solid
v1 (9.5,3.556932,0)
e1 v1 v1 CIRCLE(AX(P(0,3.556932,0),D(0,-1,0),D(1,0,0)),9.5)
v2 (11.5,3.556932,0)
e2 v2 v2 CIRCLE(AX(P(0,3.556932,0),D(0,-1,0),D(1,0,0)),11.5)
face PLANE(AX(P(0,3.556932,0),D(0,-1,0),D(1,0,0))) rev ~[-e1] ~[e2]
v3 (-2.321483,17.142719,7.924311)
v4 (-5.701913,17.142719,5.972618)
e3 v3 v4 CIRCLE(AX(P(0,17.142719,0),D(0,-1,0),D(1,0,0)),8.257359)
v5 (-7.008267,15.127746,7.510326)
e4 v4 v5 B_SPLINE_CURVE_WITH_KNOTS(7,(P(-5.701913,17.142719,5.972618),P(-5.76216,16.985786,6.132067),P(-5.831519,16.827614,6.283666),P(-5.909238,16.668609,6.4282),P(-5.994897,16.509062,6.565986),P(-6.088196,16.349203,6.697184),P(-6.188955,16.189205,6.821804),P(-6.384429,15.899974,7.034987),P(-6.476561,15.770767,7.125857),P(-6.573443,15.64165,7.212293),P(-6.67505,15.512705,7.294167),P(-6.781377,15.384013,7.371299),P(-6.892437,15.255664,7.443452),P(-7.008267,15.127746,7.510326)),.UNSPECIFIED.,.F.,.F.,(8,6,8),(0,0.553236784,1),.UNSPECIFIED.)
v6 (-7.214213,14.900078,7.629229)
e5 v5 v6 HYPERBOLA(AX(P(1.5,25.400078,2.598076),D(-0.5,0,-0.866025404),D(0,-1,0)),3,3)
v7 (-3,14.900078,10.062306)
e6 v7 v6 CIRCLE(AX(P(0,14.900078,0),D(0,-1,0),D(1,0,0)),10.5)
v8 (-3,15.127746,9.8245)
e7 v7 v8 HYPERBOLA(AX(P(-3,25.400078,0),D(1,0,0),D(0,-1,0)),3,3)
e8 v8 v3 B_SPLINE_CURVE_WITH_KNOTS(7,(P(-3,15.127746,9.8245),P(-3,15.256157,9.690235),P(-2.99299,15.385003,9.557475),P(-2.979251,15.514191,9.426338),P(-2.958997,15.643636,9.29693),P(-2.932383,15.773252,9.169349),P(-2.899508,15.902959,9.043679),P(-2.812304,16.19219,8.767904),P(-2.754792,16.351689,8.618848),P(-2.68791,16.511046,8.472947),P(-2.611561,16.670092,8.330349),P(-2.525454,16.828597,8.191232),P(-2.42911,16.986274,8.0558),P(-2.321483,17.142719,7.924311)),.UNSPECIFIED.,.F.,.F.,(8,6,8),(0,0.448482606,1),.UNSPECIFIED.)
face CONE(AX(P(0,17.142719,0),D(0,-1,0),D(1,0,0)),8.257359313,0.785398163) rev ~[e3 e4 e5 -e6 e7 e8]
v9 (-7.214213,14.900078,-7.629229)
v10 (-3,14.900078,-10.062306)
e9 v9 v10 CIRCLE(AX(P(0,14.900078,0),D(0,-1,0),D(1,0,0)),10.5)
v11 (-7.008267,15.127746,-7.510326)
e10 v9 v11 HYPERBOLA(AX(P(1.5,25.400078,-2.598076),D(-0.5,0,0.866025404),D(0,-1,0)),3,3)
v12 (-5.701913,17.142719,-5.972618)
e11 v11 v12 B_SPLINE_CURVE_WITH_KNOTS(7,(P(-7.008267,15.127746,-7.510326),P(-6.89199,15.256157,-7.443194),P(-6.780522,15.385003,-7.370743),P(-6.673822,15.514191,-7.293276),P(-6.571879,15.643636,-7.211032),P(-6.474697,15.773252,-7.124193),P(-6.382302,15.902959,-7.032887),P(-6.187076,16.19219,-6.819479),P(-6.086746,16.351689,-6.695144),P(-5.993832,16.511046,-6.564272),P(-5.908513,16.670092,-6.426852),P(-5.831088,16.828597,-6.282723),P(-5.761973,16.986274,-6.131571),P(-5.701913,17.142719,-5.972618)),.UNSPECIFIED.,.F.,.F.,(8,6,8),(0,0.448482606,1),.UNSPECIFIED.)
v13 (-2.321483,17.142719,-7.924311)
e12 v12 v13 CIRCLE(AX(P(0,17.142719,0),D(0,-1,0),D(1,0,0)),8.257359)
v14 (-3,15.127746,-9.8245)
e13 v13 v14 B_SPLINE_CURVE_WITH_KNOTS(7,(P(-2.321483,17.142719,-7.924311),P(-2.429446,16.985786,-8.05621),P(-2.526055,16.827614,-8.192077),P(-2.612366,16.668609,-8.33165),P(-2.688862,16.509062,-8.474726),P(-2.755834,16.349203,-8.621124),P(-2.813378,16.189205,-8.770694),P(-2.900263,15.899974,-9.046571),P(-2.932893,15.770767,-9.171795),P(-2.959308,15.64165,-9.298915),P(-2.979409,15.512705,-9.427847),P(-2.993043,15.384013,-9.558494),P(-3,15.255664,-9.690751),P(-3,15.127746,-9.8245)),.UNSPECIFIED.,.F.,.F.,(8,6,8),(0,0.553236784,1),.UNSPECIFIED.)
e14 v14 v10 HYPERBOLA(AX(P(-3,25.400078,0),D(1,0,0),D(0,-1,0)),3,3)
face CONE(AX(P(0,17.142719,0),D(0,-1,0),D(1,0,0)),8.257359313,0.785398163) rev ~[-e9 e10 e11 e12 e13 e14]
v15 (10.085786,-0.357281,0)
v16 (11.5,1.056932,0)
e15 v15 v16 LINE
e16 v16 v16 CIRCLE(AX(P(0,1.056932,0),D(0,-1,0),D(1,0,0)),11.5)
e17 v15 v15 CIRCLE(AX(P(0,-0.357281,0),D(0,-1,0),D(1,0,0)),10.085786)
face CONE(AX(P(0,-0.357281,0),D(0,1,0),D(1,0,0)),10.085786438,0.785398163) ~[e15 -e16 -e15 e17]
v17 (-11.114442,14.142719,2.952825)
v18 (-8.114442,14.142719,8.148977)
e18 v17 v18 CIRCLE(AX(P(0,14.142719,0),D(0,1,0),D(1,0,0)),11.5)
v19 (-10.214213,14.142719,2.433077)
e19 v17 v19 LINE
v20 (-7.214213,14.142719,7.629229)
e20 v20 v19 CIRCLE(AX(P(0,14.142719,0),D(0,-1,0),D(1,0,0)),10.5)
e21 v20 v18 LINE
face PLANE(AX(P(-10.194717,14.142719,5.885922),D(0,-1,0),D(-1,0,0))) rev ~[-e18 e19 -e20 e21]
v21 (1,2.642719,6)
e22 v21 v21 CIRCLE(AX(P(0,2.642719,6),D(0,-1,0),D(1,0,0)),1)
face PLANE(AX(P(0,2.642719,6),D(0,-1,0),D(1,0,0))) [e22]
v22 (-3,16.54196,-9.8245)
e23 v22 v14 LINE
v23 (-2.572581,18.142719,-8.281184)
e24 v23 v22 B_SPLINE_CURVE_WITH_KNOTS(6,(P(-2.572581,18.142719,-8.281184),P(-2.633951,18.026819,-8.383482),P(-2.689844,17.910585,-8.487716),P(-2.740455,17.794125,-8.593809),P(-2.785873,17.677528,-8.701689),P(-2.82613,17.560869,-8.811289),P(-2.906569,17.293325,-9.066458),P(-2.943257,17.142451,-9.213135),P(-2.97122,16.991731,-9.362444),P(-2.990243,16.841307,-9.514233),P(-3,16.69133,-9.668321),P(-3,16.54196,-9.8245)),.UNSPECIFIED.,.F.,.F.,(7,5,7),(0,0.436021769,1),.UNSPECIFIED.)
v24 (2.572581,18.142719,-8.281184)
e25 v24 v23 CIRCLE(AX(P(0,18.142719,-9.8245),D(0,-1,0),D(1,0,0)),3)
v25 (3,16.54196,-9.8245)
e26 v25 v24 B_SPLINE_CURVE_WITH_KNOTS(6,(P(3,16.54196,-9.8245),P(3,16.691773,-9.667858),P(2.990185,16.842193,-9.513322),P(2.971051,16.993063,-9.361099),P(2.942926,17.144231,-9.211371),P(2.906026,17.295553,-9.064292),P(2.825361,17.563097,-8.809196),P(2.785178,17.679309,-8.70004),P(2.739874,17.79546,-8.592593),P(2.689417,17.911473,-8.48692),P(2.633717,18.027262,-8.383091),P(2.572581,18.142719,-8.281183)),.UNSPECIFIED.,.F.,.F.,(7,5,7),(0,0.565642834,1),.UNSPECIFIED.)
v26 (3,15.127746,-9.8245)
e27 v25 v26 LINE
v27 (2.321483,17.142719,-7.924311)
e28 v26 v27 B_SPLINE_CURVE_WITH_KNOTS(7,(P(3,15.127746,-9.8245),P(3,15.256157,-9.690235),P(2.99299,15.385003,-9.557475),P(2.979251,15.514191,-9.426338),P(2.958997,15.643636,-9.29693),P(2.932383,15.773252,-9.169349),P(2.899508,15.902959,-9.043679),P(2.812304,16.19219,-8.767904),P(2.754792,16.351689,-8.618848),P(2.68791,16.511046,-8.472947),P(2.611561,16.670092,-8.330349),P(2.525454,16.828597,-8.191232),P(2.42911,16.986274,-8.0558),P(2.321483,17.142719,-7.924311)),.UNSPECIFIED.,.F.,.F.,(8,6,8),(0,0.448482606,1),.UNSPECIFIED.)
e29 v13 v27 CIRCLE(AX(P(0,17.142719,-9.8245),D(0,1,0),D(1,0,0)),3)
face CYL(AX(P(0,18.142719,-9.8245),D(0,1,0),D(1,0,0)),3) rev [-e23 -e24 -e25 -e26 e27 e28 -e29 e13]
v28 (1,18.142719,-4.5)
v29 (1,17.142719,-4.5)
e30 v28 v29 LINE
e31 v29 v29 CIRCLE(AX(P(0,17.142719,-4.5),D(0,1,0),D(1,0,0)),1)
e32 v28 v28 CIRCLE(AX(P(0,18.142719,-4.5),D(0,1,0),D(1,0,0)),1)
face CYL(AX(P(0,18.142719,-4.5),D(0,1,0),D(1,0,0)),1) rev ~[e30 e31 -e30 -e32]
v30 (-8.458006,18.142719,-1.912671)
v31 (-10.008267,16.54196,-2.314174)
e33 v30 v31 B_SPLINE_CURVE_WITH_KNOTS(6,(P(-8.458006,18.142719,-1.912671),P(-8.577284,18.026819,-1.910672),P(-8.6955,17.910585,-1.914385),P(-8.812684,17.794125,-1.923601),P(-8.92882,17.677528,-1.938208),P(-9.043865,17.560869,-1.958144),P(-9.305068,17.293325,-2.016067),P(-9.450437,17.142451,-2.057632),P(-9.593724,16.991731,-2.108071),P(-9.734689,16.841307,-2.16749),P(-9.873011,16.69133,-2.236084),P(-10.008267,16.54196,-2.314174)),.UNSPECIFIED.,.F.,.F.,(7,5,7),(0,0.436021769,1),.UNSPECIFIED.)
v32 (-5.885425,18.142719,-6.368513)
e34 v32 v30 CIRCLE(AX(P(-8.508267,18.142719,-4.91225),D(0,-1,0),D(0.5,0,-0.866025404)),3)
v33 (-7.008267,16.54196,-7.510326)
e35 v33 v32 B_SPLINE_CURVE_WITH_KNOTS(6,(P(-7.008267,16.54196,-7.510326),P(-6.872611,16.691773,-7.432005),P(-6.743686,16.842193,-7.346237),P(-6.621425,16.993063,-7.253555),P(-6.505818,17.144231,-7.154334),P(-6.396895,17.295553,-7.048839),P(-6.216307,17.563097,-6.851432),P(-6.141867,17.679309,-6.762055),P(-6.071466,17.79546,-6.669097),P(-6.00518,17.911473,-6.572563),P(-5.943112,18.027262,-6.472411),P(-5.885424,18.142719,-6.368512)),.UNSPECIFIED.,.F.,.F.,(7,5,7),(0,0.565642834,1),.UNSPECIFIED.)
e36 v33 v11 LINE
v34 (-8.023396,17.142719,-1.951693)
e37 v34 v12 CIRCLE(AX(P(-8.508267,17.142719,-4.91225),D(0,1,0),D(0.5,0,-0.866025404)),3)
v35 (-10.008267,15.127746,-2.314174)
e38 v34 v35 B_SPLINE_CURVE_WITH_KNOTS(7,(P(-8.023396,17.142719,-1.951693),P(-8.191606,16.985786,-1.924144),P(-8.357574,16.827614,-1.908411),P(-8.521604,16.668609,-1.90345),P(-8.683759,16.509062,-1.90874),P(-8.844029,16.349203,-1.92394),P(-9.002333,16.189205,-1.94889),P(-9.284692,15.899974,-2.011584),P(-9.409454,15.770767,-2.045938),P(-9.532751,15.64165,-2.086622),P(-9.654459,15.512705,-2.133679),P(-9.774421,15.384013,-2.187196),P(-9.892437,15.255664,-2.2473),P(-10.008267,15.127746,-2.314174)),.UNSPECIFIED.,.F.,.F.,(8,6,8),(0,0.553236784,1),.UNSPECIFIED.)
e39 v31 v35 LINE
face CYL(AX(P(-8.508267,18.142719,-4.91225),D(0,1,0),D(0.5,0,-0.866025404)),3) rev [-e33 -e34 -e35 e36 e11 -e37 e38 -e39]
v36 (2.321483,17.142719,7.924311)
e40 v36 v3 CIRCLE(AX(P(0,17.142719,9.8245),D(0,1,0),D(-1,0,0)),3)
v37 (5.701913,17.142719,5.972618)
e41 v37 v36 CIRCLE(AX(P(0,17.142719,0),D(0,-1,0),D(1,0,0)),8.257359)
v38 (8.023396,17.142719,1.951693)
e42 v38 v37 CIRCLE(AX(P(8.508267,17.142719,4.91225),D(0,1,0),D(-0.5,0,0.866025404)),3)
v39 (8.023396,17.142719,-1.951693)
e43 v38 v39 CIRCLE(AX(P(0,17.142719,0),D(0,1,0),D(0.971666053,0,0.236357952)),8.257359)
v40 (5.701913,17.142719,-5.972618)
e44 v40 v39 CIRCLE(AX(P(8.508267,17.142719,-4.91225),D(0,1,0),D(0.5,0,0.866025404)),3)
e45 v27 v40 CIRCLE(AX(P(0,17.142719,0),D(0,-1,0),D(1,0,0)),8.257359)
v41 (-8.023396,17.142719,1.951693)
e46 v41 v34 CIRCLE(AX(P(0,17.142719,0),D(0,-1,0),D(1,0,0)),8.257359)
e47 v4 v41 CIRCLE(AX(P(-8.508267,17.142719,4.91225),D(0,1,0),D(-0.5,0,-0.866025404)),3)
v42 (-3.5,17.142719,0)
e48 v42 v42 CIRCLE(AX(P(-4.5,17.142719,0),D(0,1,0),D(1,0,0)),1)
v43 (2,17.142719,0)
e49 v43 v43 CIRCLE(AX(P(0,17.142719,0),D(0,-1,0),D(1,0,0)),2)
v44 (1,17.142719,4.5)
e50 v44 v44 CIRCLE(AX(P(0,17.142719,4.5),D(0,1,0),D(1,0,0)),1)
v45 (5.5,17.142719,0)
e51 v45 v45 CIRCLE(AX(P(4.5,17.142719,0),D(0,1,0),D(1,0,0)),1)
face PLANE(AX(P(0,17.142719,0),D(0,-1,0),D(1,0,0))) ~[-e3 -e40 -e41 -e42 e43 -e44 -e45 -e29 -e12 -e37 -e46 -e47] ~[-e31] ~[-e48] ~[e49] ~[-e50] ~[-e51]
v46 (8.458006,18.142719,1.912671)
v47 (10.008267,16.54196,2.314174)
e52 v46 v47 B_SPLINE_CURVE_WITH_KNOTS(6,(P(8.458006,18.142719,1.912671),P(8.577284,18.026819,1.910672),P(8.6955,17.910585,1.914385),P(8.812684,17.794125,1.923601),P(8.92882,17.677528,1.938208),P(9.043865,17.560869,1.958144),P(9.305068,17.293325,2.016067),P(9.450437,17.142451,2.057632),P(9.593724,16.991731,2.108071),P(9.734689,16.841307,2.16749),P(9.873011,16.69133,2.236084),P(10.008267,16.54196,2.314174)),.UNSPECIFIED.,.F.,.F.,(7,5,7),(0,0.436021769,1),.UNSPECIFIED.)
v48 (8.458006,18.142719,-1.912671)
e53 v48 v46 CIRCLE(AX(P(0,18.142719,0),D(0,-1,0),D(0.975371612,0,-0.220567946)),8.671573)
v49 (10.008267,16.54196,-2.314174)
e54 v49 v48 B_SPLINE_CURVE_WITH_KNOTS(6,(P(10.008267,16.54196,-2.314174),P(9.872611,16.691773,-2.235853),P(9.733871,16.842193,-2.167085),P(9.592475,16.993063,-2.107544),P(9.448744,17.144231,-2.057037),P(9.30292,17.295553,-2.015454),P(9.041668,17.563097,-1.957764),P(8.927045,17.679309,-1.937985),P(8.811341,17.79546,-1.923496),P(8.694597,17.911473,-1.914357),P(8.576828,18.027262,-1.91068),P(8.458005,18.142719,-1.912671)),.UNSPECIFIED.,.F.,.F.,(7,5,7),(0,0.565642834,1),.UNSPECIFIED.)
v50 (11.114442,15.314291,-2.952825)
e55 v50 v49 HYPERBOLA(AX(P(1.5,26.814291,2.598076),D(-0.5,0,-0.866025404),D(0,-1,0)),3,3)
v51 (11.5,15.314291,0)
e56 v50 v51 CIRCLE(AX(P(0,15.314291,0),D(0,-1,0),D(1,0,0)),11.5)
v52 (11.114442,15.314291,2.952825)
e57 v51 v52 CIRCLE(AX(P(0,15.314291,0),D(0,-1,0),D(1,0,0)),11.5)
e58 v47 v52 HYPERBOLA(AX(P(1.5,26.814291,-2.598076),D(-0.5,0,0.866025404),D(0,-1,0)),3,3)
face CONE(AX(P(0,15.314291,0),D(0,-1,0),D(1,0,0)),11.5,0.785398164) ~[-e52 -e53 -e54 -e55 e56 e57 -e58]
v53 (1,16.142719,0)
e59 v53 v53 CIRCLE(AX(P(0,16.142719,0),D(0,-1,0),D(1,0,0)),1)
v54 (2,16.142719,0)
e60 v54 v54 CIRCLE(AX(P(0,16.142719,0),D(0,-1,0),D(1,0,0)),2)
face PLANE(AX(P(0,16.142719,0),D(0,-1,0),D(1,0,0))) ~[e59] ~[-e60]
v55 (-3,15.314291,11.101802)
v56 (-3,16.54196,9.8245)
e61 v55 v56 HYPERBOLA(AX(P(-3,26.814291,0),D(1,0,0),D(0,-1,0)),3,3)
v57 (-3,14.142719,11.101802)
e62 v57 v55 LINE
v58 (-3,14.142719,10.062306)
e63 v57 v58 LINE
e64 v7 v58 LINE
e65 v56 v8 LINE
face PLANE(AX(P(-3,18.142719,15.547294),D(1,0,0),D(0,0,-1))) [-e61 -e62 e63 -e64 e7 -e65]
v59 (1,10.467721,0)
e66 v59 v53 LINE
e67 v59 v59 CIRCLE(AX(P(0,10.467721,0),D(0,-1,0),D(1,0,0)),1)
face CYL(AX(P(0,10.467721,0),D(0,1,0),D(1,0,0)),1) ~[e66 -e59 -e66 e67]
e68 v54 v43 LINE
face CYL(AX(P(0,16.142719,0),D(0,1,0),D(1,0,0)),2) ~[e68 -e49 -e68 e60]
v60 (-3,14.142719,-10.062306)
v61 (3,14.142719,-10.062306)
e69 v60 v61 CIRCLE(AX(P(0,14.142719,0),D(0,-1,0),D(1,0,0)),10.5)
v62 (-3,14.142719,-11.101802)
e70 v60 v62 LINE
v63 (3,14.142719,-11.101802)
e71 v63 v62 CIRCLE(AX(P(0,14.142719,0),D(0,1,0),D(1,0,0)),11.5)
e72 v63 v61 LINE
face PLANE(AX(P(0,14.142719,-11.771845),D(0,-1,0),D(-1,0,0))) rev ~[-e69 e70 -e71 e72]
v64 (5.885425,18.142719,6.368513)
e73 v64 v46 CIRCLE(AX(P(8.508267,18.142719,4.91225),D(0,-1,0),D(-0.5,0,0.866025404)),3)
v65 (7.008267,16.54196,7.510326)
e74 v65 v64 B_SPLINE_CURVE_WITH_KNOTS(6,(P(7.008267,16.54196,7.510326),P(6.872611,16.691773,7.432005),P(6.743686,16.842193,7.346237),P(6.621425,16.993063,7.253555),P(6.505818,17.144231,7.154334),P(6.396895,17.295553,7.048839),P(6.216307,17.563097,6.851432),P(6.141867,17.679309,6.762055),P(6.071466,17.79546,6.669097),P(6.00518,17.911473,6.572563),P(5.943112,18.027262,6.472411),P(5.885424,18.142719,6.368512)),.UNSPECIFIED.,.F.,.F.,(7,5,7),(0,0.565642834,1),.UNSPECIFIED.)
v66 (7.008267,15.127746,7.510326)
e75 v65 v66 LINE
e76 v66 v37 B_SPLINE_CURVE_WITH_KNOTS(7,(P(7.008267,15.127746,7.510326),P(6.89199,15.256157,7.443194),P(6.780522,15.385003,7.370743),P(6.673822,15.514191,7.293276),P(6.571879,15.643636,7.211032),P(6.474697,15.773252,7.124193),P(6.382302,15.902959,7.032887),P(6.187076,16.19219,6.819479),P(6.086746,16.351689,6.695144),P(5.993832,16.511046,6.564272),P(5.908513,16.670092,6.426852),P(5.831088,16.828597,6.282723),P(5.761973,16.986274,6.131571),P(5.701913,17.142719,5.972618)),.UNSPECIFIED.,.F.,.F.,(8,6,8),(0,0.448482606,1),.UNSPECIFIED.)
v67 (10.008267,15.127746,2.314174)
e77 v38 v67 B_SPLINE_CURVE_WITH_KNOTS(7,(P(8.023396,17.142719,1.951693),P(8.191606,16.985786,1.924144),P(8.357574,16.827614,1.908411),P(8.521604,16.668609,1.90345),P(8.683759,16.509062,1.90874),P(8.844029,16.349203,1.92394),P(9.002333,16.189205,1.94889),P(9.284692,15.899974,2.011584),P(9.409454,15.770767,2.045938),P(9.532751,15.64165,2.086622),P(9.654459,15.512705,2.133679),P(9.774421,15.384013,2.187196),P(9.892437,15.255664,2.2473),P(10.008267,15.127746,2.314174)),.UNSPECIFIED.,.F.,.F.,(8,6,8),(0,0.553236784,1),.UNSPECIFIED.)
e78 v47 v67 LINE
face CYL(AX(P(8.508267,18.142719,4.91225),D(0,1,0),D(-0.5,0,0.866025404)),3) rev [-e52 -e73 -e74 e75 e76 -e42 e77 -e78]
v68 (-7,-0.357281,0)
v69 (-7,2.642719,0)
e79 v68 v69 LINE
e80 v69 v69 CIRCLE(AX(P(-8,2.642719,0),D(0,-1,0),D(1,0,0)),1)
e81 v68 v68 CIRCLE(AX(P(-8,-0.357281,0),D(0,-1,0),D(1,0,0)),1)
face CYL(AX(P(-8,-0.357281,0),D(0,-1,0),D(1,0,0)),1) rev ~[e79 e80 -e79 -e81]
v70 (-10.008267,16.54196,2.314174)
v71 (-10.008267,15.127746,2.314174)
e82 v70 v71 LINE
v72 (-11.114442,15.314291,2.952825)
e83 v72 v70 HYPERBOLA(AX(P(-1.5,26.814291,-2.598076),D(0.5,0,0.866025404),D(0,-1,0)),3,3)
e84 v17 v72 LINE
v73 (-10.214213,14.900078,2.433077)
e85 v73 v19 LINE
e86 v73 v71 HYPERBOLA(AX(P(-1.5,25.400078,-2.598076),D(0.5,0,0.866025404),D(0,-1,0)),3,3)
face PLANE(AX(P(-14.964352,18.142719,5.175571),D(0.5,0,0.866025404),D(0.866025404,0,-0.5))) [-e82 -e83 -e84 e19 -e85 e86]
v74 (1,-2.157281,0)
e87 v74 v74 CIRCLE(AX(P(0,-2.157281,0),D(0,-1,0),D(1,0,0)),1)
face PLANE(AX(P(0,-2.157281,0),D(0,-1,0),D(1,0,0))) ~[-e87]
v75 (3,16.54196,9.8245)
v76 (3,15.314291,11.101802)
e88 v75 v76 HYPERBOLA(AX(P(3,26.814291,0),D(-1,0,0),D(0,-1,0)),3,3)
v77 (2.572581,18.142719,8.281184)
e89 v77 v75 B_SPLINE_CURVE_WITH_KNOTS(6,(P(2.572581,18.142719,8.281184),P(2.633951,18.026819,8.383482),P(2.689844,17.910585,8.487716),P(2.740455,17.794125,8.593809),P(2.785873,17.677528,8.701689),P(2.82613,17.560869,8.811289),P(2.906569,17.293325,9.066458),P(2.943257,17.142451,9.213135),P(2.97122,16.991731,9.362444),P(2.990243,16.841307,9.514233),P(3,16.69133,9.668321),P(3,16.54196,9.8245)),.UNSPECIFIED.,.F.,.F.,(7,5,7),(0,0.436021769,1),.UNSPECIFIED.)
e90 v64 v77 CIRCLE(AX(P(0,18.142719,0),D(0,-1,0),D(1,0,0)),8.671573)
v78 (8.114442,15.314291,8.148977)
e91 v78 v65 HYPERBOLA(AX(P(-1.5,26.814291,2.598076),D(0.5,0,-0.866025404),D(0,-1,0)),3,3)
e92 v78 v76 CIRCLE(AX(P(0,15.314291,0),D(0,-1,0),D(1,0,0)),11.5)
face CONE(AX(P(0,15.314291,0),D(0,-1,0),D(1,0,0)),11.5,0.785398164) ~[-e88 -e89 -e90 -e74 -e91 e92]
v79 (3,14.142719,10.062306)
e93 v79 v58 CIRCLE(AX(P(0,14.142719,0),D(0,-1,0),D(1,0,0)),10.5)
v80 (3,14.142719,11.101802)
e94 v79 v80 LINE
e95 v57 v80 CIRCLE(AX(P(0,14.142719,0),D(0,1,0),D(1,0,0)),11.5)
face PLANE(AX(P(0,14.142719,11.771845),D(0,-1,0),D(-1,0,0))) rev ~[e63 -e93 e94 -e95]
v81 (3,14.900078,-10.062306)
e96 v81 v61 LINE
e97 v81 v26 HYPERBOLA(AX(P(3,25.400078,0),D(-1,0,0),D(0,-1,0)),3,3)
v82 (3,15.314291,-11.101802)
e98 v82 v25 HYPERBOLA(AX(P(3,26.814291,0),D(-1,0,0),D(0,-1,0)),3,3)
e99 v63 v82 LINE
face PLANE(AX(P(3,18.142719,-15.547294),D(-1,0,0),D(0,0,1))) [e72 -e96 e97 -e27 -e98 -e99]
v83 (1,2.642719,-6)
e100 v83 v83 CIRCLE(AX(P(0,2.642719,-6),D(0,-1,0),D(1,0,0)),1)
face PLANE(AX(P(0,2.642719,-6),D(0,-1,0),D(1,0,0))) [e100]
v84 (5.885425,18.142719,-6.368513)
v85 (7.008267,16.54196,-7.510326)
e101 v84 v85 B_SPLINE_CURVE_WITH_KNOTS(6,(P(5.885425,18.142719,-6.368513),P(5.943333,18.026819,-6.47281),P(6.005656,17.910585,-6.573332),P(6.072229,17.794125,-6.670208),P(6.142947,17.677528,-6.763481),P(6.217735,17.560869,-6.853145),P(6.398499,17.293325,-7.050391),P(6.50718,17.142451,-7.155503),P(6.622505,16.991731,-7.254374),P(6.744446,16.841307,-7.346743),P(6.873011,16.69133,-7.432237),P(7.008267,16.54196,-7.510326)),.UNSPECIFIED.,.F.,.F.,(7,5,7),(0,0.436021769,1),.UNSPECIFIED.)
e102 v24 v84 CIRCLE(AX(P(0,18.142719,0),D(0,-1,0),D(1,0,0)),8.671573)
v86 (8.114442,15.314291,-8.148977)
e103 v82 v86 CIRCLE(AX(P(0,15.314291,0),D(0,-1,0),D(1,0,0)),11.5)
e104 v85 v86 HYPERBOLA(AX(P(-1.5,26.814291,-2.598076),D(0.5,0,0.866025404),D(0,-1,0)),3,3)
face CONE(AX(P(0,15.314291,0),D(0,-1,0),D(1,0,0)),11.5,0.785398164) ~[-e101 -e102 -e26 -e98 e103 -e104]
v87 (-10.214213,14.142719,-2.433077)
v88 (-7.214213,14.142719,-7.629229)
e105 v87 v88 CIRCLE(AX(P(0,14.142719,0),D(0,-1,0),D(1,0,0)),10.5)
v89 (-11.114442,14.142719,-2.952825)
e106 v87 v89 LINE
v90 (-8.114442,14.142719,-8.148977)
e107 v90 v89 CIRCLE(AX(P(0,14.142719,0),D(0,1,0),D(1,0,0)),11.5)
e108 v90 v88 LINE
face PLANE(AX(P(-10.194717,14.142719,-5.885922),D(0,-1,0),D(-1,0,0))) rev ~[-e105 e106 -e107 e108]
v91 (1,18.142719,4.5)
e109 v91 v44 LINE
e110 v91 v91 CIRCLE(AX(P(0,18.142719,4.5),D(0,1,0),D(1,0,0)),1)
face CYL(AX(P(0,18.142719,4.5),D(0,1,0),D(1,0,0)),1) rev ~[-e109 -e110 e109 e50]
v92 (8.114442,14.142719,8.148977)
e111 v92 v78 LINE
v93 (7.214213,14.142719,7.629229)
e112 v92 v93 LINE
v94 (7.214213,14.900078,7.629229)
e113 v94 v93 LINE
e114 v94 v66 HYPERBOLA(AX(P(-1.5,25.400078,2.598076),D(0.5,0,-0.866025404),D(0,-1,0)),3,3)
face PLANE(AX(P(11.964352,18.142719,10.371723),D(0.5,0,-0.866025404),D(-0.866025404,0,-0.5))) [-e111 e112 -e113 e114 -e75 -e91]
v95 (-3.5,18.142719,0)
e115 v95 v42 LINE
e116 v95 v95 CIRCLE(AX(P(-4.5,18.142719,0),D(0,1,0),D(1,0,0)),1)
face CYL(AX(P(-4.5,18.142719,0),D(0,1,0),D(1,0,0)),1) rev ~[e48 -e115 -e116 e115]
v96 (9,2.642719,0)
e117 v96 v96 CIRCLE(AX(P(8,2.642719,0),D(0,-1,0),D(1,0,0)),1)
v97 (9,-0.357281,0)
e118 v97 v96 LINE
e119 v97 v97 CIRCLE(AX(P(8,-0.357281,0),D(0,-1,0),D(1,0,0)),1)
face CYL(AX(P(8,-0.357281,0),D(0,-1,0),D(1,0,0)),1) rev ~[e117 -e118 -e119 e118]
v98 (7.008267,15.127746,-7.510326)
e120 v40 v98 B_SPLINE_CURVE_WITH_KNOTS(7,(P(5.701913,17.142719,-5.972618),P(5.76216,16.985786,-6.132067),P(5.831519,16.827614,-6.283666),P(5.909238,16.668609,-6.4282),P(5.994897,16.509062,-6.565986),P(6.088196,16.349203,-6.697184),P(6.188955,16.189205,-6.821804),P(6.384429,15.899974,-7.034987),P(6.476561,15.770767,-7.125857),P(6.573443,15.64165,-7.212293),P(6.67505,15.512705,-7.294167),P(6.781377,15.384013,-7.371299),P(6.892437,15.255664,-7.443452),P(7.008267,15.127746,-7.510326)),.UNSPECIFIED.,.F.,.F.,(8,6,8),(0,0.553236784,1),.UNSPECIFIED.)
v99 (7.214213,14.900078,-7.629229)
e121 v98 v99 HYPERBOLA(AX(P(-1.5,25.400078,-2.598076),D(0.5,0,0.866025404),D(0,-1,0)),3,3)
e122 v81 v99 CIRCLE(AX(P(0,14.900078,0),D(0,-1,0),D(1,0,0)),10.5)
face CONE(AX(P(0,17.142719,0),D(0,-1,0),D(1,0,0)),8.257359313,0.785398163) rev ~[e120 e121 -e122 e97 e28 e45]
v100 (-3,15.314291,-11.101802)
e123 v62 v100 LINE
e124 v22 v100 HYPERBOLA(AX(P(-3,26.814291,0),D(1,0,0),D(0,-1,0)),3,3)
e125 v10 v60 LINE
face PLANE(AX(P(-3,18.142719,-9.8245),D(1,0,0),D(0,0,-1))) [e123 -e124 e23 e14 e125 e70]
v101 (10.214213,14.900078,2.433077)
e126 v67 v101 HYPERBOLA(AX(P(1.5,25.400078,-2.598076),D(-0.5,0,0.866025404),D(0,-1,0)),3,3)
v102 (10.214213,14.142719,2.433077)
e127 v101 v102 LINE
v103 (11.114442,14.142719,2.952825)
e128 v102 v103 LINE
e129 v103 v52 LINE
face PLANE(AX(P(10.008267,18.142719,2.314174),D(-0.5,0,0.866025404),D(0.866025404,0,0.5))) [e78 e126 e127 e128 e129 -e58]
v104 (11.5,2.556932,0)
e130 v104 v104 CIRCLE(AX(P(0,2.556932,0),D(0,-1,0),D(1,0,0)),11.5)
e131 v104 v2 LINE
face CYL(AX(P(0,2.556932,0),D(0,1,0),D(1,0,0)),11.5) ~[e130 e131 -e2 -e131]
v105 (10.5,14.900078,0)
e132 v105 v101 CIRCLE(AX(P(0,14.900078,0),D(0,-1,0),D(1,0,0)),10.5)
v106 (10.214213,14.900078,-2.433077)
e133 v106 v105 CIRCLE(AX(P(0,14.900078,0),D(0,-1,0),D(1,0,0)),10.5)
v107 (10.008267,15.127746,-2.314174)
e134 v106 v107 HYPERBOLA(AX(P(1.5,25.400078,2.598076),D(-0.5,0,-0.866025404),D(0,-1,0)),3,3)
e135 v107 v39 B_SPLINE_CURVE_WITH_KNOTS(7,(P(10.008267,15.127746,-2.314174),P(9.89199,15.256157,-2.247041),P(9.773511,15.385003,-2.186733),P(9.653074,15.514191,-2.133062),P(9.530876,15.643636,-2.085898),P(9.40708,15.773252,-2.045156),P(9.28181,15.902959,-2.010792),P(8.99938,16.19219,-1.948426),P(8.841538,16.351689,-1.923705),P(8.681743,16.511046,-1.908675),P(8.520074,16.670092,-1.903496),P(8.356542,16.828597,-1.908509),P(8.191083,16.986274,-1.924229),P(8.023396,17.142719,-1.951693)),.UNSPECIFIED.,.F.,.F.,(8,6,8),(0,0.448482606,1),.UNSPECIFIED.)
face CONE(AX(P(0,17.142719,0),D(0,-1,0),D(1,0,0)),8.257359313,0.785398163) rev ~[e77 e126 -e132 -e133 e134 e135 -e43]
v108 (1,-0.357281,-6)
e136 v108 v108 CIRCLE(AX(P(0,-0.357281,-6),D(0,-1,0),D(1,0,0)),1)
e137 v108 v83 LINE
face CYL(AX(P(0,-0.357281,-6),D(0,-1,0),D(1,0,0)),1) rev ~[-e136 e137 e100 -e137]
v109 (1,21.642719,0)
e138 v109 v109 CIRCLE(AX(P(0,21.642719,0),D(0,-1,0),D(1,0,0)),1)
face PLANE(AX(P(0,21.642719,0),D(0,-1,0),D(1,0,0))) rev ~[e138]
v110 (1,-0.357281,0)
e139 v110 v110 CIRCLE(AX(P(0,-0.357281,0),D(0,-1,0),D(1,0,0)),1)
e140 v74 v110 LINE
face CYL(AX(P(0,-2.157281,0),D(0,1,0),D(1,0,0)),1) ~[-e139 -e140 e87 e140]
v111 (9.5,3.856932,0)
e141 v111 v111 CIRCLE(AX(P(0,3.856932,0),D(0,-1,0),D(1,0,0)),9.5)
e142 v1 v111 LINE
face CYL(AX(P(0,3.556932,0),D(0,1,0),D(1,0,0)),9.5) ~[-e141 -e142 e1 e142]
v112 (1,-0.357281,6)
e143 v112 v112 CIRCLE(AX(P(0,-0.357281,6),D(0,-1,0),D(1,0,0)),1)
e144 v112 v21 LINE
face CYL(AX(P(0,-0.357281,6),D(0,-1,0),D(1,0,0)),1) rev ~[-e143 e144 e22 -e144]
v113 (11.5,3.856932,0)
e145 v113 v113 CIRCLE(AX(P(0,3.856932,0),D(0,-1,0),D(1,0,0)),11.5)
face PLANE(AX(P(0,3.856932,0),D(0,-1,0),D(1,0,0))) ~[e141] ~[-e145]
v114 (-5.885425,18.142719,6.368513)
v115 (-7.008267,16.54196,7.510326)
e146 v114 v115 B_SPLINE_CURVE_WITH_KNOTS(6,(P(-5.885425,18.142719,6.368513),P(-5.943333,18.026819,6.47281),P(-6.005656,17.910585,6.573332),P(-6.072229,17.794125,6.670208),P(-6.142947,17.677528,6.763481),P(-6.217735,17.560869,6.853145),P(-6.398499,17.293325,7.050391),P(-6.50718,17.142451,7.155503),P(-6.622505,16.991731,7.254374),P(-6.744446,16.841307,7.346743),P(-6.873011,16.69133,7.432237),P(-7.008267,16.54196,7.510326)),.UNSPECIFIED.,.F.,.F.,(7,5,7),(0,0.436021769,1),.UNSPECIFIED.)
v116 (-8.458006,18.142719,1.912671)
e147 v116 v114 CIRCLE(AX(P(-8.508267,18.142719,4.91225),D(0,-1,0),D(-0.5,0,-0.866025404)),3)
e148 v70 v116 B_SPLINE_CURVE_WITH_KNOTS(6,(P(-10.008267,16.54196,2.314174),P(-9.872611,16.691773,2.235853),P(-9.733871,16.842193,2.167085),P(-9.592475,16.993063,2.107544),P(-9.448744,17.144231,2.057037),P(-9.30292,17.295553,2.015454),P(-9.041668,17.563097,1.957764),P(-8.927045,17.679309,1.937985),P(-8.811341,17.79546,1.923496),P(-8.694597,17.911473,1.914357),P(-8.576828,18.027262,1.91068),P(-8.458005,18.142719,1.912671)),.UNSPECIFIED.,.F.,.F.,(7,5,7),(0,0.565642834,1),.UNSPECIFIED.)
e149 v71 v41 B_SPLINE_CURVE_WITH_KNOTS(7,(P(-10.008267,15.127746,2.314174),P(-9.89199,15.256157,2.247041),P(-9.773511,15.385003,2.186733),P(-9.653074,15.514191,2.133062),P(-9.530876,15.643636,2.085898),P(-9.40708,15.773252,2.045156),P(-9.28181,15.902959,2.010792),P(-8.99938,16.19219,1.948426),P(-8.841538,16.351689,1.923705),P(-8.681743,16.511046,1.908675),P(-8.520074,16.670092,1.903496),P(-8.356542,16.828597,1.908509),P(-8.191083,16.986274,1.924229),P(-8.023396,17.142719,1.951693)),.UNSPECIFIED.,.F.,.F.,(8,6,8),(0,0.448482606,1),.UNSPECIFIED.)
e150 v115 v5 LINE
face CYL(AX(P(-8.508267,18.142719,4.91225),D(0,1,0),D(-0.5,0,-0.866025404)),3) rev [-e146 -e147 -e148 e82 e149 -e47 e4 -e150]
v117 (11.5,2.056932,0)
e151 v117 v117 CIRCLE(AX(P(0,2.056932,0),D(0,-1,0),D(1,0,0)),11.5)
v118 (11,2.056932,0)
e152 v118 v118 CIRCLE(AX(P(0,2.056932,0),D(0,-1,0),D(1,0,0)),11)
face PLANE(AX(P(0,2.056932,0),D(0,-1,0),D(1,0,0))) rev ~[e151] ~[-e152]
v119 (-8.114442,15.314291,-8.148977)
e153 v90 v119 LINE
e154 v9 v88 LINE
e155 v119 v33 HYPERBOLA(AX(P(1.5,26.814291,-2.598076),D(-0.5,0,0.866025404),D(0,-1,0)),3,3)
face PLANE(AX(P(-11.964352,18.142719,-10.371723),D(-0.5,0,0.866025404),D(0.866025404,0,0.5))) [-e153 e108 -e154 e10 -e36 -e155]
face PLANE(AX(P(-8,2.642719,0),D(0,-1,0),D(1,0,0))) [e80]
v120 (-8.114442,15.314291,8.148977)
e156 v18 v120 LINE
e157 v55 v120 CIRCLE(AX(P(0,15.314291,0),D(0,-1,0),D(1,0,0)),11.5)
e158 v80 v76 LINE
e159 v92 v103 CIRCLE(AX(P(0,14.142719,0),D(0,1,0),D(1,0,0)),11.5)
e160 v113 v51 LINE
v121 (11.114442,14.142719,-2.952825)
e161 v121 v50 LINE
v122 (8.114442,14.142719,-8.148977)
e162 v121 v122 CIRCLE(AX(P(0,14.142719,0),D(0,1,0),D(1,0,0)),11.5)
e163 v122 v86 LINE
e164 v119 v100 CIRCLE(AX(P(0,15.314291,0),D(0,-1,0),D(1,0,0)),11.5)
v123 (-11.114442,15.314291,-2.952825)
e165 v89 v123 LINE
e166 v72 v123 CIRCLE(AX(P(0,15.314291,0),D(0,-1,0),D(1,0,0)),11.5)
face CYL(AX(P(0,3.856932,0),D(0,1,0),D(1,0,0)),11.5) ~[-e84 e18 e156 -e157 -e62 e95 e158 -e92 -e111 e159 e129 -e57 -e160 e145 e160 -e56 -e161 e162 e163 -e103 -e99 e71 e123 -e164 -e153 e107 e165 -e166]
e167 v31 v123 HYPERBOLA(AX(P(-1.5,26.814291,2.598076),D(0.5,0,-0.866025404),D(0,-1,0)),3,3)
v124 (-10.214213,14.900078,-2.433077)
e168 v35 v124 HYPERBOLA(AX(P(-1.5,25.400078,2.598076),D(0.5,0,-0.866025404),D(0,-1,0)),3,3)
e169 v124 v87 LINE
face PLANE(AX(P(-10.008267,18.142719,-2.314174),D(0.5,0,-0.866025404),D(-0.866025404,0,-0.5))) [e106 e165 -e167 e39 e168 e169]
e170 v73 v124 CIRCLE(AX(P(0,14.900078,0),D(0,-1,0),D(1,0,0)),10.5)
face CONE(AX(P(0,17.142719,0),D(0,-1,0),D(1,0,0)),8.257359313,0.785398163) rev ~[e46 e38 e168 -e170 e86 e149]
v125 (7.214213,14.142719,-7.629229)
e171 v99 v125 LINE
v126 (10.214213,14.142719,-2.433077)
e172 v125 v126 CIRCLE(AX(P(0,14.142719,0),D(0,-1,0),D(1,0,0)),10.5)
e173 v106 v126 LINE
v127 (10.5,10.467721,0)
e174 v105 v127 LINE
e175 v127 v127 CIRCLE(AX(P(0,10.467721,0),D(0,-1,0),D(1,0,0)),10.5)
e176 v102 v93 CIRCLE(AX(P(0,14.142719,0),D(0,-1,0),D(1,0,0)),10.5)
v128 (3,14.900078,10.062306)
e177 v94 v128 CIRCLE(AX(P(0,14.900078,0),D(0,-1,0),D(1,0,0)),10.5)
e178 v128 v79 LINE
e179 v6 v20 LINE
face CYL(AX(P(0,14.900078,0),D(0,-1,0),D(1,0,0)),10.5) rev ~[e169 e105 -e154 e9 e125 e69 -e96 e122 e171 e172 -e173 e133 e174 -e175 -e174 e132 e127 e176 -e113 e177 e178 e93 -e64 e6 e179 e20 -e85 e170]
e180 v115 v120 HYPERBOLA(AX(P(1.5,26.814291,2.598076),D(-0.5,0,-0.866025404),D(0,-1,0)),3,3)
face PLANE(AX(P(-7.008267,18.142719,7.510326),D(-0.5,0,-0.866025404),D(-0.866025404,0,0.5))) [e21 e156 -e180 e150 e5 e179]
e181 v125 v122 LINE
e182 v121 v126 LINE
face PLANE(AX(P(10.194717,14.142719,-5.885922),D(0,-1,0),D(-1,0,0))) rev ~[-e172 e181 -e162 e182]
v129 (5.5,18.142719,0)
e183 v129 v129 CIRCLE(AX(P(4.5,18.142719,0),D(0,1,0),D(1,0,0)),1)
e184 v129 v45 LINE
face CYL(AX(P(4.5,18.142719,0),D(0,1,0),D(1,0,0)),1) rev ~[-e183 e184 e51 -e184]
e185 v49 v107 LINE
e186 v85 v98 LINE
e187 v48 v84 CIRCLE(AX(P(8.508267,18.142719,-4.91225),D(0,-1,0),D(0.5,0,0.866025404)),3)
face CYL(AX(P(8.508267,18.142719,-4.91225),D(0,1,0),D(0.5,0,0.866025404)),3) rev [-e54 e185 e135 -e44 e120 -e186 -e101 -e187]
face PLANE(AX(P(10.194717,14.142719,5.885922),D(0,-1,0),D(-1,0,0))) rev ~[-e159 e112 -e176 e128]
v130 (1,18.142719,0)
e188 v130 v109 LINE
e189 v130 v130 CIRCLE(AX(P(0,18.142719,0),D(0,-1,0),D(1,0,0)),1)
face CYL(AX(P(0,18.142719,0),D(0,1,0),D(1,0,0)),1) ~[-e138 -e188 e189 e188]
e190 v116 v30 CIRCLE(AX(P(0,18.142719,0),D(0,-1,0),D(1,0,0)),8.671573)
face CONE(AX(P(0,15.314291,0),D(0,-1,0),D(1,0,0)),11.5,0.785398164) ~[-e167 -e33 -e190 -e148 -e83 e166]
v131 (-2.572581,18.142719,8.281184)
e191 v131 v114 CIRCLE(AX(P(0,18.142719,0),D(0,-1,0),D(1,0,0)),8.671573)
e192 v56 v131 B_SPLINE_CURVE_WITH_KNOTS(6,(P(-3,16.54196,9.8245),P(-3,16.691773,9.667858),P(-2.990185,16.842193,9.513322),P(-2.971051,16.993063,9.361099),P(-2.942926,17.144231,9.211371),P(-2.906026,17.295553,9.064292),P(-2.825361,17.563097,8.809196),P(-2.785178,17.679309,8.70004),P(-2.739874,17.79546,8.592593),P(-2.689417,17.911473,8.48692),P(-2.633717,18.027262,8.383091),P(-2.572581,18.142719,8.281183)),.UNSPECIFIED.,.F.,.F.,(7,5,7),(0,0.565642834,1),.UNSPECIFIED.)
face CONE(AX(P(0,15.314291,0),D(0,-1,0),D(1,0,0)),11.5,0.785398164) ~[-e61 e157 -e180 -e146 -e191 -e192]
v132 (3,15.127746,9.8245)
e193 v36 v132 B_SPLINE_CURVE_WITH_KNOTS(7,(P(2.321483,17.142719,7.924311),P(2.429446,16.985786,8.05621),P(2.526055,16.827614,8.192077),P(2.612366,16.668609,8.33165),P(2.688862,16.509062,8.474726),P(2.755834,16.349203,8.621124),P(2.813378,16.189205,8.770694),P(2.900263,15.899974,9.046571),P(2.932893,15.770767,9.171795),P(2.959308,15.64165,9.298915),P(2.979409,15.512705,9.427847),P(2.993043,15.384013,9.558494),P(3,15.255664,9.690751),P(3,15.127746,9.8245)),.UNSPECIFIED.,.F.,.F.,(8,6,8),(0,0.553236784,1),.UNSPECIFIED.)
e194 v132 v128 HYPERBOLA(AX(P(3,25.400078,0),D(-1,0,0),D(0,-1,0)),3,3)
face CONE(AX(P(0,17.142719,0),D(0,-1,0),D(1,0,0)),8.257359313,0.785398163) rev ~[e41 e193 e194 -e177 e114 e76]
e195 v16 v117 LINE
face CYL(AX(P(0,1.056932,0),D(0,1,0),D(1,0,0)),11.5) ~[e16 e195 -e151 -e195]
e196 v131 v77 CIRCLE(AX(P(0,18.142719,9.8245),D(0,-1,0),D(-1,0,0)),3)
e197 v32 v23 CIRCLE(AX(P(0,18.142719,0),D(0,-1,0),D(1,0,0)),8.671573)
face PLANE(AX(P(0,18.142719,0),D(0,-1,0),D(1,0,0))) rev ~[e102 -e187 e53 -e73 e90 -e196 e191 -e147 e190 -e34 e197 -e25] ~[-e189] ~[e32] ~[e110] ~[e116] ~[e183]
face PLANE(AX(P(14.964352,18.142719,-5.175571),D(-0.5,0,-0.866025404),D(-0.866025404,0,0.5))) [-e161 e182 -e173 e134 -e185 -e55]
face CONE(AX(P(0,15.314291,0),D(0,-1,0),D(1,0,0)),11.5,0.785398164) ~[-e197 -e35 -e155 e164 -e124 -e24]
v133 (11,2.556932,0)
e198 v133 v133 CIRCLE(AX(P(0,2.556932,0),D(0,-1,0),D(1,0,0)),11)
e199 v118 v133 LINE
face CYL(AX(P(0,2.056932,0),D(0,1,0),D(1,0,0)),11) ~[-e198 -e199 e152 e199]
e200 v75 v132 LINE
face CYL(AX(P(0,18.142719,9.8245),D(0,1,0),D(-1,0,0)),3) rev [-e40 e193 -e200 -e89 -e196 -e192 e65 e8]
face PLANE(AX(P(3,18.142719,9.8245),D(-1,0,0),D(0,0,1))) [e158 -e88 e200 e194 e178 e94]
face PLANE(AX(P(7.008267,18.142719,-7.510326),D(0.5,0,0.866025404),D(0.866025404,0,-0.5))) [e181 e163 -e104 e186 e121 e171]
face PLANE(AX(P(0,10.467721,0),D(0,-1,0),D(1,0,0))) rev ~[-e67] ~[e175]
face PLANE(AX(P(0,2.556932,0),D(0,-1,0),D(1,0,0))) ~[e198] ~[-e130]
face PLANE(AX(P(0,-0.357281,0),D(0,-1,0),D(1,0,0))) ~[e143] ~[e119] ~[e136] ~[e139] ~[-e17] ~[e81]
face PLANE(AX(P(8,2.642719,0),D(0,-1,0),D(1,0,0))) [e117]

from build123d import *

# Parameters (mm, degrees)
SKETCH2_R          = 1
CUT_EXTRUDE1_DEPTH = 4
SKETCH3_R          = 1
CUT_EXTRUDE2_DEPTH = 3


with BuildPart() as part:
    # Sketch1 → Revolve1 (revolve)
    with BuildSketch(Plane.XY):
        Polygon((0, 21.642718579), (0, 0), (0, -2.157281421), (1, -2.157281421), (1, -0.357281421), (10.085786438, -0.357281421), (11.5, 1.056932142), (11.5, 2.056932142), (11, 2.056932142), (11, 2.556932142), (11.5, 2.556932142), (11.5, 3.556932142), (9.5, 3.556932142), (9.5, 3.856932142), (11.5, 3.856932142), (11.5, 15.314291455), (8.671572875, 18.142718579), (1, 18.142718579), (1, 21.642718579), align=None)
        Polygon((2, 17.142718579), (8.257359313, 17.142718579), (10.5, 14.900077892), (10.5, 10.467720713), (1, 10.467720713), (1, 16.142718579), (2, 16.142718579), align=None, mode=Mode.SUBTRACT)
    revolve(axis=Axis((0, 21.642718579, 0), (0, -1, 0)))

    # Sketch2 → Cut-Extrude1 (cut)
    with BuildSketch(Plane(origin=(0, 18.142718579, 0), x_dir=(1, 0, 0), z_dir=(0, 1, 0))):
        with Locations((0, -4.5)):
            Circle(SKETCH2_R)
        with Locations((-4.5, 0)):
            Circle(SKETCH2_R)
        with Locations((0, 4.5)):
            Circle(SKETCH2_R)
        with Locations((4.5, 0)):
            Circle(SKETCH2_R)
        with BuildLine():
            Line((-3, 9.824499933), (-3, 15.547294435))
            Line((-3, 15.547294435), (3, 15.547294435))
            Line((3, 15.547294435), (3, 9.824499933))
            ThreePointArc((3, 9.824499933), (0, 6.824499933), (-3, 9.824499933))
        make_face()
        with BuildLine():
            Line((11.964351941, 10.371723429), (14.964351941, 5.175571006))
            Line((14.964351941, 5.175571006), (10.008266522, 2.314173755))
            ThreePointArc((10.008266522, 2.314173755), (5.91019031, 3.412249967), (7.008266522, 7.510326178))
            Line((7.008266522, 7.510326178), (11.964351941, 10.371723429))
        make_face()
        with BuildLine():
            Line((14.964351941, -5.175571006), (11.964351941, -10.371723429))
            Line((11.964351941, -10.371723429), (7.008266522, -7.510326178))
            ThreePointArc((7.008266522, -7.510326178), (5.91019031, -3.412249967), (10.008266522, -2.314173755))
            Line((10.008266522, -2.314173755), (14.964351941, -5.175571006))
        make_face()
        with BuildLine():
            Line((3, -15.547294435), (-3, -15.547294435))
            Line((-3, -15.547294435), (-3, -9.824499933))
            ThreePointArc((-3, -9.824499933), (0, -6.824499933), (3, -9.824499933))
            Line((3, -9.824499933), (3, -15.547294435))
        make_face()
        with BuildLine():
            Line((-11.964351941, -10.371723429), (-14.964351941, -5.175571006))
            Line((-14.964351941, -5.175571006), (-10.008266522, -2.314173755))
            ThreePointArc((-10.008266522, -2.314173755), (-5.91019031, -3.412249967), (-7.008266522, -7.510326178))
            Line((-7.008266522, -7.510326178), (-11.964351941, -10.371723429))
        make_face()
        with BuildLine():
            Line((-14.964351941, 5.175571006), (-11.964351941, 10.371723429))
            Line((-11.964351941, 10.371723429), (-7.008266522, 7.510326178))
            ThreePointArc((-7.008266522, 7.510326178), (-5.91019031, 3.412249967), (-10.008266522, 2.314173755))
            Line((-10.008266522, 2.314173755), (-14.964351941, 5.175571006))
        make_face()
    extrude(amount=-CUT_EXTRUDE1_DEPTH, mode=Mode.SUBTRACT)

    # Sketch3 → Cut-Extrude2 (cut)
    with BuildSketch(Plane.XZ.offset(0.357281421)):
        with Locations((0, -6)):
            Circle(SKETCH3_R)
        with Locations((0, 6)):
            Circle(SKETCH3_R)
        with Locations((-8, 0)):
            Circle(SKETCH3_R)
        with Locations((8, 0)):
            Circle(SKETCH3_R)
    extrude(amount=-CUT_EXTRUDE2_DEPTH, mode=Mode.SUBTRACT)


solid = part.part
